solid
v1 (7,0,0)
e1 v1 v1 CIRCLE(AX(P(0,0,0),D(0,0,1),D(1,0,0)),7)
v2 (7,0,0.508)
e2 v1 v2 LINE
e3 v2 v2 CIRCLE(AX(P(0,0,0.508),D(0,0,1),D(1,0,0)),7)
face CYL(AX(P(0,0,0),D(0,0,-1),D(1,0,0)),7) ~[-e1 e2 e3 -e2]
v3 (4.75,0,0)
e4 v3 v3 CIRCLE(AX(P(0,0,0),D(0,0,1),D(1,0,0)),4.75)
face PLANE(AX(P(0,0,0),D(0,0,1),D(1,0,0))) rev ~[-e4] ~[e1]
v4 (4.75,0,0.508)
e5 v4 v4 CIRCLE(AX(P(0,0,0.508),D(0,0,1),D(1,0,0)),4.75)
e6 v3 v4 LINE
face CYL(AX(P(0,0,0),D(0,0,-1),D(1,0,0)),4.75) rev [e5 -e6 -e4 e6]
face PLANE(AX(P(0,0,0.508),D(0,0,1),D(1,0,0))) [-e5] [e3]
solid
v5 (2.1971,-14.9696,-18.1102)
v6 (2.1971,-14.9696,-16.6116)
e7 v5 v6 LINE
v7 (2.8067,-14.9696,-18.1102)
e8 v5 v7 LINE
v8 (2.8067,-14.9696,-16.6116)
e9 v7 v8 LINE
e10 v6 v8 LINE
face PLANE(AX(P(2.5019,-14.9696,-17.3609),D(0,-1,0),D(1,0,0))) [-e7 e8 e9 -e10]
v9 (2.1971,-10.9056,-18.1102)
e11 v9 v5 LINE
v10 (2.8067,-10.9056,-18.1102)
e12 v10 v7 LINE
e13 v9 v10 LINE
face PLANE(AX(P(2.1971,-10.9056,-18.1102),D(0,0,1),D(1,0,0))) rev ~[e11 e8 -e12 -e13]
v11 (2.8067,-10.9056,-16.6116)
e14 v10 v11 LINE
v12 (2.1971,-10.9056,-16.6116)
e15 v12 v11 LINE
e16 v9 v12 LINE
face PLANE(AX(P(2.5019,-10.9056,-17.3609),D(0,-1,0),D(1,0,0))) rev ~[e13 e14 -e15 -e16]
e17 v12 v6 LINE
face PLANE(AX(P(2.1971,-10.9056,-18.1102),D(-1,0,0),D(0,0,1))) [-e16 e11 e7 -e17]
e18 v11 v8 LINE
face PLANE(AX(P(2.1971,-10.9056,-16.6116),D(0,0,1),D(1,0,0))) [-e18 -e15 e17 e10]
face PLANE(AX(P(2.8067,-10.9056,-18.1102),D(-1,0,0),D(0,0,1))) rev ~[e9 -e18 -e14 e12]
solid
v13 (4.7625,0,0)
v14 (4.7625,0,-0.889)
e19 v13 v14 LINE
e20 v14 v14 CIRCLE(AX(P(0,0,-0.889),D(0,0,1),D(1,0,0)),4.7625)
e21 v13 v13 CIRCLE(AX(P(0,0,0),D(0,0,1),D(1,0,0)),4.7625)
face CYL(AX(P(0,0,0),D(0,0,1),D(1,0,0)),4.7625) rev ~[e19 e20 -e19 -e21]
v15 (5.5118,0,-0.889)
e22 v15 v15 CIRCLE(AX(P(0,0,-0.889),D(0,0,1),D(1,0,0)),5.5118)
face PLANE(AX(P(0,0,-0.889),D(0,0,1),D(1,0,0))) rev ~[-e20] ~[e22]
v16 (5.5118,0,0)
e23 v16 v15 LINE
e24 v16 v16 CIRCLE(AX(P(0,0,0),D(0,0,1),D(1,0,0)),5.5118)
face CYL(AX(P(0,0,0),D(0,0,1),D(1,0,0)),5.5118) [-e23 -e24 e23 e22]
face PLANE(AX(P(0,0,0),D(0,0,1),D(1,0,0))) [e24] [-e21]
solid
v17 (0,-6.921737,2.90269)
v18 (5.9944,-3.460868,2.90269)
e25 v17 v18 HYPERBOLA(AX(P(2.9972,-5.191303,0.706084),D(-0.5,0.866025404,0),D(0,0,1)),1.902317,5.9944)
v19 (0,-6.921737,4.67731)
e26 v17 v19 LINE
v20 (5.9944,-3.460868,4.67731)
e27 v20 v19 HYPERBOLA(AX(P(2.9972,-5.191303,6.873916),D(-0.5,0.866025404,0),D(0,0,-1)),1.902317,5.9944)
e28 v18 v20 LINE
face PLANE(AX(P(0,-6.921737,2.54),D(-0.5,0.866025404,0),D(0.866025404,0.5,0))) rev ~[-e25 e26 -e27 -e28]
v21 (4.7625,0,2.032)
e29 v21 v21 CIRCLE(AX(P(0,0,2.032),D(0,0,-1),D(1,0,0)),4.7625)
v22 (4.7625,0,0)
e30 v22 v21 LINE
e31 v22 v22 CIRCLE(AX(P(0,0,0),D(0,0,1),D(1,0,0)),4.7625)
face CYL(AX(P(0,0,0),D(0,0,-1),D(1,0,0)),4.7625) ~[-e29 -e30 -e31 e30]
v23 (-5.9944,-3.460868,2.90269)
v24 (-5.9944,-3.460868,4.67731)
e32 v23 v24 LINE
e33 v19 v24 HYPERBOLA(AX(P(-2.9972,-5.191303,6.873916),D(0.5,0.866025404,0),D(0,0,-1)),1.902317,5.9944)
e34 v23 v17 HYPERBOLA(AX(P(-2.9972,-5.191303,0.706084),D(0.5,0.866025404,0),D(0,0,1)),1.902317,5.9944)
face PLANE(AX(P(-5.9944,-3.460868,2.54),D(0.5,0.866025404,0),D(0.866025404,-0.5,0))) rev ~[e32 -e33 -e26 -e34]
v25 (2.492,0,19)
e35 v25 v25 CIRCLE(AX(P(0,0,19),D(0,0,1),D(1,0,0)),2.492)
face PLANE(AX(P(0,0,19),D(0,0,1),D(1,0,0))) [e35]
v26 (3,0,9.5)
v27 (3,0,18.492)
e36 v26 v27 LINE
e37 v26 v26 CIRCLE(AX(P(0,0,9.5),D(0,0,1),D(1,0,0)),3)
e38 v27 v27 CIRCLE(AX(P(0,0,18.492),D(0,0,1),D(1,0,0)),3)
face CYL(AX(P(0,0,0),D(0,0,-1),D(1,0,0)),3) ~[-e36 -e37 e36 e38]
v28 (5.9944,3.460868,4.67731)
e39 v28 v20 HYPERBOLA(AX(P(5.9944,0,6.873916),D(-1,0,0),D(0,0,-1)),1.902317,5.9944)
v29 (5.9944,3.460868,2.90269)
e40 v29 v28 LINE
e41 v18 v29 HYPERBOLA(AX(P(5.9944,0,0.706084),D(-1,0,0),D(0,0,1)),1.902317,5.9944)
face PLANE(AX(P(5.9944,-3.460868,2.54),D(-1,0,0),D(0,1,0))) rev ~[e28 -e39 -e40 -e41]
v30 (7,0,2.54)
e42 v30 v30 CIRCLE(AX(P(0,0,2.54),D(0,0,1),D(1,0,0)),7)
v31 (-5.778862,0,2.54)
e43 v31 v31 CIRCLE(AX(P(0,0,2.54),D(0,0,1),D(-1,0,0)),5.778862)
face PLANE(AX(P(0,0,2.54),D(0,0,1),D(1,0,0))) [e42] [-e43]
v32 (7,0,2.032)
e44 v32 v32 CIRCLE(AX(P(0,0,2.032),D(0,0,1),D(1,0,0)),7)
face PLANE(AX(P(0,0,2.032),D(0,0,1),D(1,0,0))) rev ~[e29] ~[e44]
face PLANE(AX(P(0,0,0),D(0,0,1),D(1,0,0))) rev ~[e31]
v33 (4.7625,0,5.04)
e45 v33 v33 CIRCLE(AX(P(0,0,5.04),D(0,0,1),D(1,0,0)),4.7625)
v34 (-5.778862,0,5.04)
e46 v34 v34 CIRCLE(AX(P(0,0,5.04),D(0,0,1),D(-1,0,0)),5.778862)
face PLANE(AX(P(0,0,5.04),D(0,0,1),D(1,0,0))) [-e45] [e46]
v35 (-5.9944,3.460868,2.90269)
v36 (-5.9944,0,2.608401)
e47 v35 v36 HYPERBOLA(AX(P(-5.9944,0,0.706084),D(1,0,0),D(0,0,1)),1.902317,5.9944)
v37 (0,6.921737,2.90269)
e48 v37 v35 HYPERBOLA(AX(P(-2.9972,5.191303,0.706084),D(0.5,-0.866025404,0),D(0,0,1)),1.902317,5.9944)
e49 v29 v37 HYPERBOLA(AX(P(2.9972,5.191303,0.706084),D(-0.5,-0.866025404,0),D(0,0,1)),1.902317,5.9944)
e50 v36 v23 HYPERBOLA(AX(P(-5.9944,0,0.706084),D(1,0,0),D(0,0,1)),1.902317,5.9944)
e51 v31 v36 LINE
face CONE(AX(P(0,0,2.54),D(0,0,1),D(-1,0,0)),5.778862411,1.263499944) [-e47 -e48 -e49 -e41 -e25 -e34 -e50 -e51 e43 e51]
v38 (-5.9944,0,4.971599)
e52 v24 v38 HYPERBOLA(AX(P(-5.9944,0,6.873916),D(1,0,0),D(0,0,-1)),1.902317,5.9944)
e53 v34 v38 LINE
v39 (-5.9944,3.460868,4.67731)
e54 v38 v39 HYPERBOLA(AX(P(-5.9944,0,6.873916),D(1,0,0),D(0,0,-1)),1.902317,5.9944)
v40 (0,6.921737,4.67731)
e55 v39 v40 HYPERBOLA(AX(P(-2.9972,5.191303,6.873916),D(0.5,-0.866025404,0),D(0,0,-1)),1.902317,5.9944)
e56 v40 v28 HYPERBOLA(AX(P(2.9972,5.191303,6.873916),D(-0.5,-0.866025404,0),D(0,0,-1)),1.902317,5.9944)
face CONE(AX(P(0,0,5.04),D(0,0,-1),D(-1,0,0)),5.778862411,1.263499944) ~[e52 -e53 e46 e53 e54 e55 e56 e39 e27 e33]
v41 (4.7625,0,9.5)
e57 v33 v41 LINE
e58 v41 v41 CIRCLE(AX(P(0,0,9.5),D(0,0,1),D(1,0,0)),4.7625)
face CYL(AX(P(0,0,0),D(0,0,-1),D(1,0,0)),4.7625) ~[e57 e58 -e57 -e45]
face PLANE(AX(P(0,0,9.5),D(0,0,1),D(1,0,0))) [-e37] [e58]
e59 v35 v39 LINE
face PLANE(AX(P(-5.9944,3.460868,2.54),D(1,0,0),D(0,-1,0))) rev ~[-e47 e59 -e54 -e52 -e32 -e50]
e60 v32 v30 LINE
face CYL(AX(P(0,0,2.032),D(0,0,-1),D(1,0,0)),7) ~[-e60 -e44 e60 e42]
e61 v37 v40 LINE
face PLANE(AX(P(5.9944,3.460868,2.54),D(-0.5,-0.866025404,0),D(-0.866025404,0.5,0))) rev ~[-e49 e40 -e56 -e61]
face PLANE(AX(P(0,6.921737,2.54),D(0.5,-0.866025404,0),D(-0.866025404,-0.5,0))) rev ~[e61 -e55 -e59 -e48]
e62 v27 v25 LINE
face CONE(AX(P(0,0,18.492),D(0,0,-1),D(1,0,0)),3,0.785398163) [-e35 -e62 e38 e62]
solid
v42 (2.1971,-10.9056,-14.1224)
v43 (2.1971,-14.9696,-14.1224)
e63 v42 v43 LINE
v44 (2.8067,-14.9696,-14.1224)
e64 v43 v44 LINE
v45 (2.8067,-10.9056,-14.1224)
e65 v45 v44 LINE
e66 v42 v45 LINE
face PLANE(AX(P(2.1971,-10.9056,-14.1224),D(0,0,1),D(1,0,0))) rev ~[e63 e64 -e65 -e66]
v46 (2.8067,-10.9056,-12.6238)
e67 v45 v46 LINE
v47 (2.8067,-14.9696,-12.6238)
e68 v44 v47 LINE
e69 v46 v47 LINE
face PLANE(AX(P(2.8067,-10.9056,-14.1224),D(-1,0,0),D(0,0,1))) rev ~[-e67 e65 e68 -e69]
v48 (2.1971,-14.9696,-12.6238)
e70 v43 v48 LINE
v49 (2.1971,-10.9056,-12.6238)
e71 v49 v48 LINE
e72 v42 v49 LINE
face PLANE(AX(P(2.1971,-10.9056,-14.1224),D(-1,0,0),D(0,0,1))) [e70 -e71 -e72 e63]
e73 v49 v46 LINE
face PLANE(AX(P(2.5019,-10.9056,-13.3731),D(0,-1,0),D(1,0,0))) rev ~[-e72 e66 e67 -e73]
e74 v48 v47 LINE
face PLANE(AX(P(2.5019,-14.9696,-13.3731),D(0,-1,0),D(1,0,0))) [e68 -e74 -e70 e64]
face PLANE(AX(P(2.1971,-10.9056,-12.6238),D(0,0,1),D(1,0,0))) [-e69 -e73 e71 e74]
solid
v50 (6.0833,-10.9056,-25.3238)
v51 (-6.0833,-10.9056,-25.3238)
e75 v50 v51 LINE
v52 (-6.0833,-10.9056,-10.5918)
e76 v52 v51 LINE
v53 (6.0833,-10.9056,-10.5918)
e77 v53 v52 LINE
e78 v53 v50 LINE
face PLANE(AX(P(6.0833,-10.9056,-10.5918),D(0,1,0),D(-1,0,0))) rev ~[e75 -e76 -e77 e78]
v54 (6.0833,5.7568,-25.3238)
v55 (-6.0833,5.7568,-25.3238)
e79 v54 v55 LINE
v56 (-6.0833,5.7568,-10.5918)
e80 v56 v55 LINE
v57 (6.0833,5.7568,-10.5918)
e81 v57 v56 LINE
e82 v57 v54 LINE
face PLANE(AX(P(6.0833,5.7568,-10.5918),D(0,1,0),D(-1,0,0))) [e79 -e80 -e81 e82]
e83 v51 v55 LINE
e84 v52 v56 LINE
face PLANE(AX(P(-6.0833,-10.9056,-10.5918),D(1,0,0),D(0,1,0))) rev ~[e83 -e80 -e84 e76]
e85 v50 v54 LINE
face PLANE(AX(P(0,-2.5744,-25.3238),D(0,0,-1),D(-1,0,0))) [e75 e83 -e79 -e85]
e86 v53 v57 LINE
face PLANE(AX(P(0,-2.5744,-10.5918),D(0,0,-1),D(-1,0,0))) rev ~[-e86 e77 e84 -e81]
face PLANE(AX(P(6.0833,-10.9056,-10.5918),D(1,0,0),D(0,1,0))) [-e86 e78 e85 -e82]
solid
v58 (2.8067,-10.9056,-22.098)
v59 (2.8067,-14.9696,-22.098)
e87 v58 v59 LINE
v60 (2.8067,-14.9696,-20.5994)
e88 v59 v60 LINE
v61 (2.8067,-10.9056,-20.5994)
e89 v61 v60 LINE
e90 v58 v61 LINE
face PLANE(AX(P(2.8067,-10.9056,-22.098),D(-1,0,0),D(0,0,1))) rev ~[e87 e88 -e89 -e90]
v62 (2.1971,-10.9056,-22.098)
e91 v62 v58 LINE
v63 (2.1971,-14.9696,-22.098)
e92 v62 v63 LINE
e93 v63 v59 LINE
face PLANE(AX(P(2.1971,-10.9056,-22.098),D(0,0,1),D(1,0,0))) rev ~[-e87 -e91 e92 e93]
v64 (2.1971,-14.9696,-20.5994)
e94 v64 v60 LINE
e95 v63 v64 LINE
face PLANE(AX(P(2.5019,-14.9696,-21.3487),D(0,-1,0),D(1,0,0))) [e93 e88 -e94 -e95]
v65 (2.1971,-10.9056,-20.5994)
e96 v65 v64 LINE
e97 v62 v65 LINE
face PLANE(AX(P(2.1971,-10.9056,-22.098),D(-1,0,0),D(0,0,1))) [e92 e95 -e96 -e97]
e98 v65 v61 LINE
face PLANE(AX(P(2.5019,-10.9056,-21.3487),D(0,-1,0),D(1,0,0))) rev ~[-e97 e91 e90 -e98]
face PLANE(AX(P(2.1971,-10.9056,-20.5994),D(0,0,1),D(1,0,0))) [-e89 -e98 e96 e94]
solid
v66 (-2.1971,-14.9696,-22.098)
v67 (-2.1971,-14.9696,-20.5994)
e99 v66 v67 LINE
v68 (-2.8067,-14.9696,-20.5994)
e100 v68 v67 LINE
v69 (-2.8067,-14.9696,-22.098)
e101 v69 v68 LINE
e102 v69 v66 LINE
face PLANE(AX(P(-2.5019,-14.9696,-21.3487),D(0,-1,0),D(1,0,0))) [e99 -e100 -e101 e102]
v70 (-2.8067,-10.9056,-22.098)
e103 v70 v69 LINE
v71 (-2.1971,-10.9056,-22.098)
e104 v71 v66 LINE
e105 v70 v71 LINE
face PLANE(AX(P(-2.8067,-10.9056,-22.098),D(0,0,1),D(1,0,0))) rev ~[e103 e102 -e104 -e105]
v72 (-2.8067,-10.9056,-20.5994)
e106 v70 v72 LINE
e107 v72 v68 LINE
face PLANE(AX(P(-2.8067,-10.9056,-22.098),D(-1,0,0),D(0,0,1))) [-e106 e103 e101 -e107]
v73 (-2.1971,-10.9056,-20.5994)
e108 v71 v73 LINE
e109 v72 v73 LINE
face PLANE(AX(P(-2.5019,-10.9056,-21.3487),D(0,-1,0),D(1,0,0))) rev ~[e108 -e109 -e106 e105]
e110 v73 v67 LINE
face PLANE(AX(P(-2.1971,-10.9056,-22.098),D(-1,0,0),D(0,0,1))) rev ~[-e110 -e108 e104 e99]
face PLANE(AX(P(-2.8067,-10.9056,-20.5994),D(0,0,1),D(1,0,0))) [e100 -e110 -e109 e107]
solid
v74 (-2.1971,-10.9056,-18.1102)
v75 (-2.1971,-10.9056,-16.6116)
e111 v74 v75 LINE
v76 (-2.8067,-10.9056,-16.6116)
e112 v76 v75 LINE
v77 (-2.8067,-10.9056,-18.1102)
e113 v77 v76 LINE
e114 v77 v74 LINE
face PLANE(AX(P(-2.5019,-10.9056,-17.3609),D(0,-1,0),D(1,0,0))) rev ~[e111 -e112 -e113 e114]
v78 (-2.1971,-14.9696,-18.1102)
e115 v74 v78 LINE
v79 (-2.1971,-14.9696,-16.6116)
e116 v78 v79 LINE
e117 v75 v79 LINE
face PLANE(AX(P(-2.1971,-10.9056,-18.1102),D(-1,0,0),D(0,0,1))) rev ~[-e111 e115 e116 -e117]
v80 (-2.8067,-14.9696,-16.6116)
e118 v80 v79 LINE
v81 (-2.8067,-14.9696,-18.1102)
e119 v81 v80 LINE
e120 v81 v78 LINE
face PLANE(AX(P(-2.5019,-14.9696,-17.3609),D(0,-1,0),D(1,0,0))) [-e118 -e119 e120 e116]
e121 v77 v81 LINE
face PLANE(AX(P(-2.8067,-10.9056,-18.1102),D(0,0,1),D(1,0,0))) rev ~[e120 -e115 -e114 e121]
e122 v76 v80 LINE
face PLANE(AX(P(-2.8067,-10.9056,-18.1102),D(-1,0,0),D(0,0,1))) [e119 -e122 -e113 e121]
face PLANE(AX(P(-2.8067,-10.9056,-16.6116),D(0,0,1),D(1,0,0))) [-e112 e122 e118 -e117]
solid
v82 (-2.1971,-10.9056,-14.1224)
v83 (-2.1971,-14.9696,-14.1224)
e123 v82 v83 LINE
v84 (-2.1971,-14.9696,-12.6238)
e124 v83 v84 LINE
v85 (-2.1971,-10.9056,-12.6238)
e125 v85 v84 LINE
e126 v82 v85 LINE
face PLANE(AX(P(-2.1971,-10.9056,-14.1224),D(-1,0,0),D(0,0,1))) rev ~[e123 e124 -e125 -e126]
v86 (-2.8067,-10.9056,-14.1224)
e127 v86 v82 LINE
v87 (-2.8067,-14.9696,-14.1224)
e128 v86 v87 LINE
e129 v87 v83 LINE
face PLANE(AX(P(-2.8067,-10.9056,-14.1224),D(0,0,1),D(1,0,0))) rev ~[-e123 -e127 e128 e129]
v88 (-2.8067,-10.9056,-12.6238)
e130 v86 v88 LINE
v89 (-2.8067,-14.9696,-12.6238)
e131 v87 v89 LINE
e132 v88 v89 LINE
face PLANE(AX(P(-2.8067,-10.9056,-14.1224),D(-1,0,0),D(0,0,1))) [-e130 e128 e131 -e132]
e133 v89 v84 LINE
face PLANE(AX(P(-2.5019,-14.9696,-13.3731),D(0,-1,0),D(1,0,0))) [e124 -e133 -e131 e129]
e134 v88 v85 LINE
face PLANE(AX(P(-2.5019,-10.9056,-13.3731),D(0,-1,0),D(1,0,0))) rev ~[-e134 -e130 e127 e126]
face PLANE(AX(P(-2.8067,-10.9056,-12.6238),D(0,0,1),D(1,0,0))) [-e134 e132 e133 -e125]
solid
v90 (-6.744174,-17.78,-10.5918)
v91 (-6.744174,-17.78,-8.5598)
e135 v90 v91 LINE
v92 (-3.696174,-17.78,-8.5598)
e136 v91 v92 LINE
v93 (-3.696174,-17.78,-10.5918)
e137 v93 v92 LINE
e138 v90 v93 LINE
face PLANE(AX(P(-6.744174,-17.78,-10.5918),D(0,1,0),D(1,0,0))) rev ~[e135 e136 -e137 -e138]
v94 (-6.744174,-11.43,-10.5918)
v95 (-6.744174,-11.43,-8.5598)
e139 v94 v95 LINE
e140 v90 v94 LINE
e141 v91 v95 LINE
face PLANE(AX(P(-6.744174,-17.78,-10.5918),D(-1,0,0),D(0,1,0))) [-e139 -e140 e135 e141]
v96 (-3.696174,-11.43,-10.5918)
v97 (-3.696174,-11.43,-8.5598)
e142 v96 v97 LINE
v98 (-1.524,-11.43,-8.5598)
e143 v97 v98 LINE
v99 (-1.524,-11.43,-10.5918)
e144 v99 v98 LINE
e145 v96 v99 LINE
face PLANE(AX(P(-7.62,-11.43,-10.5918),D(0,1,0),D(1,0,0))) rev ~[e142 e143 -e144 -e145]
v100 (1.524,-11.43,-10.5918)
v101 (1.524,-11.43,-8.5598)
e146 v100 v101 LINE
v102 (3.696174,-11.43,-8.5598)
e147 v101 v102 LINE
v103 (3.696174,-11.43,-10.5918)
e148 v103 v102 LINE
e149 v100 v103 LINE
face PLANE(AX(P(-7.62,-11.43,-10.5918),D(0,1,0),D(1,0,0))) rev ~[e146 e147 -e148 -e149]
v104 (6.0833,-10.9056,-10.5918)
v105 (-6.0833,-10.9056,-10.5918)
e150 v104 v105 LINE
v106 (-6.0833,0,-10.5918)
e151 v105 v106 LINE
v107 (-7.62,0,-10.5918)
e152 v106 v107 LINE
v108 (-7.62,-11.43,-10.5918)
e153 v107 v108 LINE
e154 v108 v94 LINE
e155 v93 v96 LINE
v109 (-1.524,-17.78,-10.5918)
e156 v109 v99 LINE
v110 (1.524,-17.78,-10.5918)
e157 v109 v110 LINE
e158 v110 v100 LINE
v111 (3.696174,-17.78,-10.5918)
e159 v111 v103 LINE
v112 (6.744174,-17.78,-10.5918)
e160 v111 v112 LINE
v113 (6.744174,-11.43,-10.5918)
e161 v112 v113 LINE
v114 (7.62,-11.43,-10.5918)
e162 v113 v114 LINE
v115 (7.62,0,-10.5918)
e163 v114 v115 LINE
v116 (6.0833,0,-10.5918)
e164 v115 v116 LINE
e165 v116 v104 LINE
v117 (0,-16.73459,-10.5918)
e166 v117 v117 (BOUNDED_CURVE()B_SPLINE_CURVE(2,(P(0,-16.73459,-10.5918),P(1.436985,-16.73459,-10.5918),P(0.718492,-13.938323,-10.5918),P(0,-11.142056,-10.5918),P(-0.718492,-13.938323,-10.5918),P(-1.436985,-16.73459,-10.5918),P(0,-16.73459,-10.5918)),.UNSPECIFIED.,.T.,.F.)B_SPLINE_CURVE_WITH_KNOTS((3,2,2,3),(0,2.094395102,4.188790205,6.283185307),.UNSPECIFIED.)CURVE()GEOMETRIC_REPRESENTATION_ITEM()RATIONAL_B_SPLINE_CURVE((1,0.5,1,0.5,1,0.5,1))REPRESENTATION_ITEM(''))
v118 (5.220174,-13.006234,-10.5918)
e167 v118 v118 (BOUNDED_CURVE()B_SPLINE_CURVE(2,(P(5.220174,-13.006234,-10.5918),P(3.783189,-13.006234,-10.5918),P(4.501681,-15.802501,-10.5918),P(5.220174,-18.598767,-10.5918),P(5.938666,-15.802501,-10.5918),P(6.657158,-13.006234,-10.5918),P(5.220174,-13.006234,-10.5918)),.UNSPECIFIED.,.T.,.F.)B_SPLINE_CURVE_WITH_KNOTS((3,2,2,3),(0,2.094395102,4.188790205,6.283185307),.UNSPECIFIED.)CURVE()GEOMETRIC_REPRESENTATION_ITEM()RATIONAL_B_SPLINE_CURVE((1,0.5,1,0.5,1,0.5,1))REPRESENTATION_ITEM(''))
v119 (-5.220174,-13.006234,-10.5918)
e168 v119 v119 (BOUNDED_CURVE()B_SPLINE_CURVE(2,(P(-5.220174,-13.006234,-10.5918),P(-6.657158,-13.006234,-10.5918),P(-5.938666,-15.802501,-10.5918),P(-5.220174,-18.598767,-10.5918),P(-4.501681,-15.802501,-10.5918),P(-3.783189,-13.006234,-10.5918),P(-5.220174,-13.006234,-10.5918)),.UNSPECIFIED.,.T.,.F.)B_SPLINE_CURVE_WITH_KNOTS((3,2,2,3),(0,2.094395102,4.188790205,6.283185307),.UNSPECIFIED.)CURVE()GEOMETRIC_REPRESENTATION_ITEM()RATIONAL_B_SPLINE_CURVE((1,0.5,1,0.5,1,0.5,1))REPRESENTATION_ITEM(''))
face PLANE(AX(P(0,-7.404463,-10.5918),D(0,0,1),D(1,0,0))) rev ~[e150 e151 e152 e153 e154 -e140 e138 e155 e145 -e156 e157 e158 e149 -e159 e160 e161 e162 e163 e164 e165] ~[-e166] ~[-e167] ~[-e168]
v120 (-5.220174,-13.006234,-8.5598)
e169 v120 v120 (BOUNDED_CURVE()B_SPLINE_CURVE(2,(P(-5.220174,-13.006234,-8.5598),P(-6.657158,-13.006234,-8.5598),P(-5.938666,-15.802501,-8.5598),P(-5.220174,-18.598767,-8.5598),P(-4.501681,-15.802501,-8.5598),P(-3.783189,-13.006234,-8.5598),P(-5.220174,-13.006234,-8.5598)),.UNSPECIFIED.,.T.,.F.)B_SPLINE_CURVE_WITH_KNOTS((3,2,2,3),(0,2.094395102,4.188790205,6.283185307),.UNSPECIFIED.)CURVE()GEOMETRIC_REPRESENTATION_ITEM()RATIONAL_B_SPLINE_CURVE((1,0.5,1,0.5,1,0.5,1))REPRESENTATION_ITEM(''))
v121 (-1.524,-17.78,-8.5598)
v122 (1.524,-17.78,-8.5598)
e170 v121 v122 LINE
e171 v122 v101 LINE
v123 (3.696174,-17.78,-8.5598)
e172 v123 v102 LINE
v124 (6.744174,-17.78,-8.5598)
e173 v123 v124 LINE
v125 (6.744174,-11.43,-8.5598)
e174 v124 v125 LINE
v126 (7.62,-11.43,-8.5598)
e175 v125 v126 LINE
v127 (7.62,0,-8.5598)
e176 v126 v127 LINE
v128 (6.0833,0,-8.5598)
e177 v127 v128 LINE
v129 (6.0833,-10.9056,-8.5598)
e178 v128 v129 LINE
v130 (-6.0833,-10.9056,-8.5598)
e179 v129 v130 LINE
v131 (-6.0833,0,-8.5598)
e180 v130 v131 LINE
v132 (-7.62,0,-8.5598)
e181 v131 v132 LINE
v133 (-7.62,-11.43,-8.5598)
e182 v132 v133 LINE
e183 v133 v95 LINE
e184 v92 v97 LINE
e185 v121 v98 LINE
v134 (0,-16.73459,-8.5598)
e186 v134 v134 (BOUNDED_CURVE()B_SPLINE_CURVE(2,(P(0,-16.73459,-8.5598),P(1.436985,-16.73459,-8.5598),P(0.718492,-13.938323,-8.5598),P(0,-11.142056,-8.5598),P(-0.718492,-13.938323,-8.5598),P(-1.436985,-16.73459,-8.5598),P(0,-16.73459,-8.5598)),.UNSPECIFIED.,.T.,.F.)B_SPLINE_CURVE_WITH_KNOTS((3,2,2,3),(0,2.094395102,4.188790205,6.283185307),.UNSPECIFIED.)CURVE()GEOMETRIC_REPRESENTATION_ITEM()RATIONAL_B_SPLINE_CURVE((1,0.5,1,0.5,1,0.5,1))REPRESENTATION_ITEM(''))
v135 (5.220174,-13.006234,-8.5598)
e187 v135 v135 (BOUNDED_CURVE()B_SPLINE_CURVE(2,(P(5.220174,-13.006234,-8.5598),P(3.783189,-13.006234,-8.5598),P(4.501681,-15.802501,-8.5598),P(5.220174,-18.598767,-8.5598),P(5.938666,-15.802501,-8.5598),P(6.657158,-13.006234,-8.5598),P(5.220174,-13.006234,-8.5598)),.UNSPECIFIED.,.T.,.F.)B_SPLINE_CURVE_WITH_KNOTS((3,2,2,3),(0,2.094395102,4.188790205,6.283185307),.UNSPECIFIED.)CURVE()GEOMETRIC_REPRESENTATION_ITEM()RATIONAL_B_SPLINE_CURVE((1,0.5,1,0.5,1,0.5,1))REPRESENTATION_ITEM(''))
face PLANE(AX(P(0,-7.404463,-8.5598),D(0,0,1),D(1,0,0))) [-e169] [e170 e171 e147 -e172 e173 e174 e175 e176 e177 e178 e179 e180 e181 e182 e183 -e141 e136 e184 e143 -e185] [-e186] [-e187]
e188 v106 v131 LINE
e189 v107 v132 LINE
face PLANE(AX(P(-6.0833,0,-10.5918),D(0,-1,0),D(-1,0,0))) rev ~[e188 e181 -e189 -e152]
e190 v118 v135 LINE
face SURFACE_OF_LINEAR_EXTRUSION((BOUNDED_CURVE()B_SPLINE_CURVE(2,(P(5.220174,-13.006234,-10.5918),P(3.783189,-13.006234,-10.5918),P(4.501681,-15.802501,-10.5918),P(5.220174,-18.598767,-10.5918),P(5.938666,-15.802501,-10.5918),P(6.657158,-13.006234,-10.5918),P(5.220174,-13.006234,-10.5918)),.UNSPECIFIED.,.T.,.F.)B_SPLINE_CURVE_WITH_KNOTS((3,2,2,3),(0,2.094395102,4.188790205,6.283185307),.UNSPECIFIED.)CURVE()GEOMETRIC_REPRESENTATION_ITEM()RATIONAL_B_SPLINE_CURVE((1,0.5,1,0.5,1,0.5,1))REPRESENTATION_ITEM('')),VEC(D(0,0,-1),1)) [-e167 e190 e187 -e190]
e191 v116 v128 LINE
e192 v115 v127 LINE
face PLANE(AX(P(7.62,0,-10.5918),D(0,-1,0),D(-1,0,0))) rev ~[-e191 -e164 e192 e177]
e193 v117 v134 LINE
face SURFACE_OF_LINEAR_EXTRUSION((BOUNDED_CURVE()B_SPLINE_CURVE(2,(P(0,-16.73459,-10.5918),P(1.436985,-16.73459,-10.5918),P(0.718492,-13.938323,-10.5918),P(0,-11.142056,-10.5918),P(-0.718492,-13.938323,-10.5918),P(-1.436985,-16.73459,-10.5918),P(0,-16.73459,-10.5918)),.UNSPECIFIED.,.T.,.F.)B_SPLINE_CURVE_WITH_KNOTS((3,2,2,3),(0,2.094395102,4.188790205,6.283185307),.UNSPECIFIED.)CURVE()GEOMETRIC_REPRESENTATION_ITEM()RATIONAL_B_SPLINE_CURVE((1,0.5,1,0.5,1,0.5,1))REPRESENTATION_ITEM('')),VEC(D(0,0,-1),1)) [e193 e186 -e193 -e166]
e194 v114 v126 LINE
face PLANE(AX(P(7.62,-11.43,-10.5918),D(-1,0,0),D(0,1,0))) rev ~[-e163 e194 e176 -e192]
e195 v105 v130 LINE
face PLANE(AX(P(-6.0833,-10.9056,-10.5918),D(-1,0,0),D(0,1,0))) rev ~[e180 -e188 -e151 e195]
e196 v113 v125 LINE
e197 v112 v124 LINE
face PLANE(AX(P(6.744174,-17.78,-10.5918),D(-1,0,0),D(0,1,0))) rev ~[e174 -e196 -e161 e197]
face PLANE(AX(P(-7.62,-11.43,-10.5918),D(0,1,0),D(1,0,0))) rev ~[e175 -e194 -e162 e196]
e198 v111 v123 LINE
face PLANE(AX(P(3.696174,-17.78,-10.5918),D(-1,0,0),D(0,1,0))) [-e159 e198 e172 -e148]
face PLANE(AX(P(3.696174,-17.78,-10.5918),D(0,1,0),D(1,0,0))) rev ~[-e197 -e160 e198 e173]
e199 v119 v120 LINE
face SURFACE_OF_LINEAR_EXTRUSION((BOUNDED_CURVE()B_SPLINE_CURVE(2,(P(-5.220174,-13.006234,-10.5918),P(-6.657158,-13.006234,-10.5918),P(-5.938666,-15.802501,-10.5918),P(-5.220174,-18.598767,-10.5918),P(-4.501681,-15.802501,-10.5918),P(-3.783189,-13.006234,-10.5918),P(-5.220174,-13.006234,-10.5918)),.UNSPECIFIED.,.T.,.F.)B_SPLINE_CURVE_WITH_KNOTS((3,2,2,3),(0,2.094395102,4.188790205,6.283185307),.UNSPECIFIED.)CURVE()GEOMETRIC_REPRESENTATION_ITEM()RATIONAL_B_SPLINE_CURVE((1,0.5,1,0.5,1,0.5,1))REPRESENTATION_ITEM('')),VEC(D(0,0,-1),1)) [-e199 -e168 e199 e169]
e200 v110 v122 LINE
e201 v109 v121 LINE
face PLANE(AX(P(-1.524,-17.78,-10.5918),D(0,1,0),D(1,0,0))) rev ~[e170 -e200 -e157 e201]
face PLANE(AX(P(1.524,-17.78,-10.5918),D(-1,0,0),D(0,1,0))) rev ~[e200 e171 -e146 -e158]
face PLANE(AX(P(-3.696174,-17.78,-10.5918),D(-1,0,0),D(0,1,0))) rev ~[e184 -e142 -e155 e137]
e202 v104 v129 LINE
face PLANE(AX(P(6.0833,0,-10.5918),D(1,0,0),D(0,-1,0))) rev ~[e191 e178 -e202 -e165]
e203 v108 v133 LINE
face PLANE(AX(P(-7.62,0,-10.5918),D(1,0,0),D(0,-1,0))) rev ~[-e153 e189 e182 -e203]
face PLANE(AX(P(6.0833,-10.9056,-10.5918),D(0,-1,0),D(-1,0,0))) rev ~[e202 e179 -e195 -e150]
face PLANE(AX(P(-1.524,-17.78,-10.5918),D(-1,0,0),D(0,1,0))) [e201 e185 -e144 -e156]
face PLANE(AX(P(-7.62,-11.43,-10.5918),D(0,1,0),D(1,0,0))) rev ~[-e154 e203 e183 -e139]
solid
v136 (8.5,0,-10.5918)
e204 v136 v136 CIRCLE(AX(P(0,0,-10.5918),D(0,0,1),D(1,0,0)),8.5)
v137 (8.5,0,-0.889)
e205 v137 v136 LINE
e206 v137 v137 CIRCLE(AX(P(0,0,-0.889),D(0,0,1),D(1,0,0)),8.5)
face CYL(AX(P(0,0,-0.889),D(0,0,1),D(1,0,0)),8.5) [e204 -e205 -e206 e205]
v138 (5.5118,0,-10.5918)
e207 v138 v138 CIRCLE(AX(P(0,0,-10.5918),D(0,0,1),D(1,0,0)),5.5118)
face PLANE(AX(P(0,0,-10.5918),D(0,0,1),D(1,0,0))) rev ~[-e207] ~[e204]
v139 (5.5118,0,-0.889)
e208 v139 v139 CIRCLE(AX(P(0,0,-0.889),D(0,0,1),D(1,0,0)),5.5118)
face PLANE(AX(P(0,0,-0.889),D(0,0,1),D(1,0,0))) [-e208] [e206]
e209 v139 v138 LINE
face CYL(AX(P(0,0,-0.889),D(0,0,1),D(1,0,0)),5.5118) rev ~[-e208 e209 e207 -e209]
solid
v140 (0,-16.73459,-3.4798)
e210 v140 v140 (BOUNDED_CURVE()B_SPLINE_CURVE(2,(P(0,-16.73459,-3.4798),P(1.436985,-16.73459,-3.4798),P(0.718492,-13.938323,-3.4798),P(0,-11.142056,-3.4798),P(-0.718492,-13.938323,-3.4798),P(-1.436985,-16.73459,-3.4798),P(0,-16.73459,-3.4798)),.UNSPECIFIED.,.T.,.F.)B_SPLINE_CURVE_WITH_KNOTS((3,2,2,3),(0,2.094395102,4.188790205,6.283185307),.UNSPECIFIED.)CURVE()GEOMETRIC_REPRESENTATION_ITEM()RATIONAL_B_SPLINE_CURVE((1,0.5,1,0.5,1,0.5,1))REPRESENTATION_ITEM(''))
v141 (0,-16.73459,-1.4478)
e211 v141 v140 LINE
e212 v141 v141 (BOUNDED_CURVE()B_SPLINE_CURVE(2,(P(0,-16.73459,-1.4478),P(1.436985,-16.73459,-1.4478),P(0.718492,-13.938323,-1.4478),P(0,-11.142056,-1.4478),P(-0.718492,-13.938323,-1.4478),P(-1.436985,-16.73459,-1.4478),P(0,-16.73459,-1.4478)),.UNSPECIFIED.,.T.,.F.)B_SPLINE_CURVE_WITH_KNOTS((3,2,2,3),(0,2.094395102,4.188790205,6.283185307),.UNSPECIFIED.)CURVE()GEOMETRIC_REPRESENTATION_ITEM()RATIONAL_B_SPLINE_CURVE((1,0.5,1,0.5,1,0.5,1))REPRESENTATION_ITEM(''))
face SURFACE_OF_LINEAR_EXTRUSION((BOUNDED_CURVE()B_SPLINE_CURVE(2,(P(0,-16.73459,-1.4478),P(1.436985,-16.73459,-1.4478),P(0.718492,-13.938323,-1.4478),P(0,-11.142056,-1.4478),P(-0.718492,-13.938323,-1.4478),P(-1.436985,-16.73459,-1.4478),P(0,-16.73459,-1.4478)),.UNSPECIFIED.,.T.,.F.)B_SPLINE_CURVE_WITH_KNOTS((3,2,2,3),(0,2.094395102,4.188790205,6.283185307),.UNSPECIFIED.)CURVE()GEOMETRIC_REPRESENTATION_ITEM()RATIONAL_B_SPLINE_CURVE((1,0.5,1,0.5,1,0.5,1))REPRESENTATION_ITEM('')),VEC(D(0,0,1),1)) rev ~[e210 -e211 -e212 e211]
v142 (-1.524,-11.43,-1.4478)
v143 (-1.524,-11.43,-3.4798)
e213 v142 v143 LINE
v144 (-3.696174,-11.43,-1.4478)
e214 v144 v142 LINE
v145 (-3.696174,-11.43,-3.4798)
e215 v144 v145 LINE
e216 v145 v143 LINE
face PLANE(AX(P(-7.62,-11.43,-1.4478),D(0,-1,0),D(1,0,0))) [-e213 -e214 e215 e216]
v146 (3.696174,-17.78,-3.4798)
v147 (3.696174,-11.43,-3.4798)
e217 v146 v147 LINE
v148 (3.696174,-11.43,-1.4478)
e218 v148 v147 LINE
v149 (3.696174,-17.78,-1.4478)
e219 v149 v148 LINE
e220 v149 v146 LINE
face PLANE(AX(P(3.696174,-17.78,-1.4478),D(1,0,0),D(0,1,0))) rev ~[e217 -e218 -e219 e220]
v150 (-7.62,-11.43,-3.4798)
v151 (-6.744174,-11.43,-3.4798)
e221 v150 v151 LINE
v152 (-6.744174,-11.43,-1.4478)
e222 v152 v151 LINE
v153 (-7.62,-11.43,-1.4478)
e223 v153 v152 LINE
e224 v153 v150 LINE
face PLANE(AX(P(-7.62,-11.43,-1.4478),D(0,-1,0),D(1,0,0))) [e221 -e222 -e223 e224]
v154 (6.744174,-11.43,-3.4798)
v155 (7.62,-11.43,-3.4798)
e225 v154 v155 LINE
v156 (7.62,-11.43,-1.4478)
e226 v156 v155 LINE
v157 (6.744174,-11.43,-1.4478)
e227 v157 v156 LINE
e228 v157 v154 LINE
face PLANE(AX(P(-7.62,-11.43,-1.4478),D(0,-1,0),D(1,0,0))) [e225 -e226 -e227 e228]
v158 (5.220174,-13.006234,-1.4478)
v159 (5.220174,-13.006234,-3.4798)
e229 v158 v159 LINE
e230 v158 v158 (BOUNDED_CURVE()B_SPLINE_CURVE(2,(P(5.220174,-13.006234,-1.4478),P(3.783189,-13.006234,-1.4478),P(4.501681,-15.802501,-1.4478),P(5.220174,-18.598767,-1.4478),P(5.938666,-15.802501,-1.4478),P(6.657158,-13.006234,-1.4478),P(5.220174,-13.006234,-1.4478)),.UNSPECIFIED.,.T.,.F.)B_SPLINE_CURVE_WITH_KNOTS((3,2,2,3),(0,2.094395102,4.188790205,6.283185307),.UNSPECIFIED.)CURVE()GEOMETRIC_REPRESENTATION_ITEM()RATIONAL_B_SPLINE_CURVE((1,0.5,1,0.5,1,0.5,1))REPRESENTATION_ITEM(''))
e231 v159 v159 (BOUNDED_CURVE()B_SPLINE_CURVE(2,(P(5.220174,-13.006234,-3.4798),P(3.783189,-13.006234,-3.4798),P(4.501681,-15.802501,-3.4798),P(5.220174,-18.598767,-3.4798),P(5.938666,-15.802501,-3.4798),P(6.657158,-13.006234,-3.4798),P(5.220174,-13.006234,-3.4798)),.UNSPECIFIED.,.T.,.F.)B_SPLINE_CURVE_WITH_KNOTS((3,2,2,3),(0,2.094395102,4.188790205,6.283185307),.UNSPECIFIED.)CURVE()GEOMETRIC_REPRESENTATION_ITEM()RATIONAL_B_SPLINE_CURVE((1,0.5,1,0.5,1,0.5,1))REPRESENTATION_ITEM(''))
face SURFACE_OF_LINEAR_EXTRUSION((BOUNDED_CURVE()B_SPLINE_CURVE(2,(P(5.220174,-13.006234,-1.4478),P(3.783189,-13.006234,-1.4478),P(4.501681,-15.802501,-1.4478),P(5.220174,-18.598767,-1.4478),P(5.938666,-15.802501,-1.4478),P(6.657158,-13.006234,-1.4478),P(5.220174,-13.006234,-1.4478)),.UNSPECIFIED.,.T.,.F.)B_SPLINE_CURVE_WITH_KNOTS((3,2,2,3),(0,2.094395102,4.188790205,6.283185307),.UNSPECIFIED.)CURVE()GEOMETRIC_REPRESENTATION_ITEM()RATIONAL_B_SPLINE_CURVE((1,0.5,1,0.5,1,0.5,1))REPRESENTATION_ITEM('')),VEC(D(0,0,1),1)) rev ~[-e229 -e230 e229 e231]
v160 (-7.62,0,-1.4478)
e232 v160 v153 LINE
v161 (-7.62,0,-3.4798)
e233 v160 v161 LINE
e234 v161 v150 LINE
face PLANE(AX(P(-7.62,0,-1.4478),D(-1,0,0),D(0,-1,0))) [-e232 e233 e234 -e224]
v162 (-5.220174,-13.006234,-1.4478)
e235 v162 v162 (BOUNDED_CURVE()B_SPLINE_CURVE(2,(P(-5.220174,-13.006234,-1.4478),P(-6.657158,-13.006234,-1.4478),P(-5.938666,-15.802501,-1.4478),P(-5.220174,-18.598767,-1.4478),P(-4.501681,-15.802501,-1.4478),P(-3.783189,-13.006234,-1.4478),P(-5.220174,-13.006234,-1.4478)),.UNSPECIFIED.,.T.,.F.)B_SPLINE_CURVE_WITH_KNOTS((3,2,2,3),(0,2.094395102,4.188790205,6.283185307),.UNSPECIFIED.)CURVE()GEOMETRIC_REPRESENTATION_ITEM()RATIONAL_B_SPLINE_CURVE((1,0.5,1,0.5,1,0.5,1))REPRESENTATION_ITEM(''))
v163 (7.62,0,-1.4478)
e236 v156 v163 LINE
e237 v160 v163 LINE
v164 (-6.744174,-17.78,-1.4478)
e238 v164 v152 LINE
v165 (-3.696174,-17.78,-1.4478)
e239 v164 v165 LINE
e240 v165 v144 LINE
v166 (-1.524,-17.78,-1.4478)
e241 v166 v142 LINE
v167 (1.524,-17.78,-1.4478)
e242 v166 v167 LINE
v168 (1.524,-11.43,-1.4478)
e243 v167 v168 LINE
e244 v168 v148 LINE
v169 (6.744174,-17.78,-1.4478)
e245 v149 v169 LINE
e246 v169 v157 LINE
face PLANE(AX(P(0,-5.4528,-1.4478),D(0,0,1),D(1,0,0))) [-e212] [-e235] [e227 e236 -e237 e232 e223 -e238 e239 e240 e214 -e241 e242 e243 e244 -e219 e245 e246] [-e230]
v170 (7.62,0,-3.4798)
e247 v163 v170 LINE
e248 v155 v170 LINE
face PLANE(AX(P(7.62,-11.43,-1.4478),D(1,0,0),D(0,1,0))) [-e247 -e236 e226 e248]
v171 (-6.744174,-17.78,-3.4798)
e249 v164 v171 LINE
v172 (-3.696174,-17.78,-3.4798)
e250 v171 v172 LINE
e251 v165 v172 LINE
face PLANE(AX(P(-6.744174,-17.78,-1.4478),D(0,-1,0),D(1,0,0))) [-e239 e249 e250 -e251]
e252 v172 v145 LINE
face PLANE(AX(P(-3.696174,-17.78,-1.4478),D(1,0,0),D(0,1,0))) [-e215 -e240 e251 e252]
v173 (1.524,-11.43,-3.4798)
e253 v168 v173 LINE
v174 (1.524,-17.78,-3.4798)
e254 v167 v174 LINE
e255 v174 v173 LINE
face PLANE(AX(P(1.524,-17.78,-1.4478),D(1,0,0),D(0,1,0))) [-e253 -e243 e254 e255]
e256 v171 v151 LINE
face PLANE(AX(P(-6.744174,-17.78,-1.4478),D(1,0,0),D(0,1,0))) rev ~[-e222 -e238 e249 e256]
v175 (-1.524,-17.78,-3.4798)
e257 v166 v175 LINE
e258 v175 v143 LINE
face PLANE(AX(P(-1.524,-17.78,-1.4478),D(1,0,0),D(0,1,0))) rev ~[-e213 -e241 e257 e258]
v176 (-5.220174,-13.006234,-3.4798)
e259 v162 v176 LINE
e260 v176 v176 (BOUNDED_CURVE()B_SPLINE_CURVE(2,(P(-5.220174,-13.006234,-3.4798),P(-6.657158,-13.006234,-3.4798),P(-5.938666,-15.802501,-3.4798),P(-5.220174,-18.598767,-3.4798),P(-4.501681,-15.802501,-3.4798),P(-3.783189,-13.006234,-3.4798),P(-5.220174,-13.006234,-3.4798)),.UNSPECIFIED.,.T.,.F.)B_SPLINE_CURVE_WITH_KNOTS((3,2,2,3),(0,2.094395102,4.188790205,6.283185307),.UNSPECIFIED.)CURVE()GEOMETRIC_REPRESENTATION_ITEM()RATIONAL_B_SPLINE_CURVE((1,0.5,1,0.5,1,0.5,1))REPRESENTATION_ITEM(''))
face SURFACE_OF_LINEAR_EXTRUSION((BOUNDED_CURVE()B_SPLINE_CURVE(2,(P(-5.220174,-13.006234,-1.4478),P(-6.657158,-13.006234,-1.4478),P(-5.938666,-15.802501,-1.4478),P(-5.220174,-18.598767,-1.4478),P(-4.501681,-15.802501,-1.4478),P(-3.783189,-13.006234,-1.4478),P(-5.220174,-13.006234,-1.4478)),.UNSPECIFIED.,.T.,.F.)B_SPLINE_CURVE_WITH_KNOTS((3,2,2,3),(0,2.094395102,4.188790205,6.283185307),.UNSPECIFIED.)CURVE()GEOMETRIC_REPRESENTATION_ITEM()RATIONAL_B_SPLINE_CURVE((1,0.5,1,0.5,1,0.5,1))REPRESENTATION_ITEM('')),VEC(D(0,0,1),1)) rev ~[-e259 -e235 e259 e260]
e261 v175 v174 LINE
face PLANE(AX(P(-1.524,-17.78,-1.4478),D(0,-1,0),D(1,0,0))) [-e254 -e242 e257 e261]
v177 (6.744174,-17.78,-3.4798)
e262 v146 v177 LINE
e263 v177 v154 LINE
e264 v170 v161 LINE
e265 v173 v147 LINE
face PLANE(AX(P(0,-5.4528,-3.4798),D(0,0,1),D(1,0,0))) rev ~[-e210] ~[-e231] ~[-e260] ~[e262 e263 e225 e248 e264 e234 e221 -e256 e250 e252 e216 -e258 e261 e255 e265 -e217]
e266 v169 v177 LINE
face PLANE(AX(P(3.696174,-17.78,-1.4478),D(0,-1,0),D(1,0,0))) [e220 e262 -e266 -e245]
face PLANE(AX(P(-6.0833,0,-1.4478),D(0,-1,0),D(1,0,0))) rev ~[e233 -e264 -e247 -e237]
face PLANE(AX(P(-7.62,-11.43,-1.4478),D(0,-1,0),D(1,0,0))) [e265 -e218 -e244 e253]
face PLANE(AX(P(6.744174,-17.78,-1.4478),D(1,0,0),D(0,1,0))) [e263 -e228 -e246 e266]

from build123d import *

# Parameters (mm, degrees)
SKETCH1_R              = 3
BOSS_EXTRUDE1_DEPTH    = 19
SKETCH1_3_R            = 4.7625
SKETCH1_3_R_2          = 3
BOSS_EXTRUDE2_DEPTH    = 9.5
SKETCH1_5_R            = 5.5118
SKETCH1_5_R_2          = 4.7625
BOSS_EXTRUDE3_DEPTH    = 0.889
BOSS_EXTRUDE4_START    = -0.889
SKETCH1_6_R            = 8.5
SKETCH1_6_R_2          = 5.5118
BOSS_EXTRUDE4_DEPTH    = 9.7028
SKETCH2_W              = 12.1666
SKETCH2_H              = 16.6624
BOSS_EXTRUDE5_DEPTH    = 14.732
SKETCH3_W              = 3.048
SKETCH3_H              = 6.35
BOSS_EXTRUDE6_DEPTH    = 2.032
BOSS_EXTRUDE9_START    = 9.144
SKETCH3_3_W            = 3.048
SKETCH3_3_H            = 6.35
SKETCH3_3_W_2          = 12.1666
SKETCH3_3_H_2          = 10.9056
BOSS_EXTRUDE9_DEPTH    = 2.032
SKETCH4_W              = 0.6096
SKETCH4_H              = 1.4986
BOSS_EXTRUDE10_DEPTH   = 4.064
BOSS_EXTRUDE10_2_DEPTH = 4.064
BOSS_EXTRUDE10_3_DEPTH = 4.064
BOSS_EXTRUDE10_4_DEPTH = 4.064
BOSS_EXTRUDE10_5_DEPTH = 4.064
BOSS_EXTRUDE10_6_DEPTH = 4.064
CHAMFER1_SIZE          = 0.508
SKETCH6_R              = 7
SKETCH6_R_2            = 4.75
BOSS_EXTRUDE11_DEPTH   = 0.508
SKETCH8_R              = 4.7625
BOSS_EXTRUDE12_DEPTH   = 2.5
BOSS_EXTRUDE15_START   = -2.032
SKETCH6_2_R            = 7
SKETCH6_2_R_2          = 4.75
BOSS_EXTRUDE15_DEPTH   = 0.508


with BuildPart() as part:
    # Sketch1 → Boss-Extrude1 (new body)
    with BuildSketch(Plane.XY):
        Circle(SKETCH1_R)
    extrude(amount=BOSS_EXTRUDE1_DEPTH)



with BuildPart() as body_2:
    # Sketch1<3> → Boss-Extrude2 (new body)
    with BuildSketch(Plane.XY):
        Circle(SKETCH1_3_R)
        Circle(SKETCH1_3_R_2, mode=Mode.SUBTRACT)
    extrude(amount=BOSS_EXTRUDE2_DEPTH)


with BuildPart() as part_1:
    add(part.part)

    add(body_2.part)  # Boss-Extrude3 merges body 2
    # Sketch1<5> → Boss-Extrude3 (add)
    with BuildSketch(Plane.XY):
        Circle(SKETCH1_5_R)
        Circle(SKETCH1_5_R_2, mode=Mode.SUBTRACT)
    extrude(amount=-BOSS_EXTRUDE3_DEPTH)

    # Chamfer1
    chamfer1_edges = [part_1.edges().sort_by_distance(p)[0] for p in [
        (-3, 0, 19),
    ]]
    chamfer(chamfer1_edges, length=CHAMFER1_SIZE)



with BuildPart() as body_2_2:
    # Sketch1<6> → Boss-Extrude4 (new body)
    with BuildSketch(Plane.XY.offset(BOSS_EXTRUDE4_START)):
        Circle(SKETCH1_6_R)
        Circle(SKETCH1_6_R_2, mode=Mode.SUBTRACT)
    extrude(amount=-BOSS_EXTRUDE4_DEPTH)


with BuildPart() as body_3:
    # Sketch2 → Boss-Extrude5 (new body)
    with BuildSketch(Plane(origin=(0, 0, -10.5918), x_dir=(-1, 0, 0), z_dir=(0, 0, -1))):
        with Locations((0, -2.5744)):
            Rectangle(SKETCH2_W, SKETCH2_H)
    extrude(amount=BOSS_EXTRUDE5_DEPTH)


with BuildPart() as body_4:
    # Sketch3 → Boss-Extrude6 (new body)
    # profile 1 of 4: a face of its own
    with BuildSketch(Plane.XY.offset(-10.5918)):
        Polygon((-6.0833, 0), (-7.62, 0), (-7.62, -11.43), (-6.744173621, -11.43), (-3.696173621, -11.43), (-1.524, -11.43), (1.524, -11.43), (3.696173621, -11.43), (6.744173621, -11.43), (7.62, -11.43), (7.62, 0), (6.0833, 0), (6.0833, -10.9056), (-6.0833, -10.9056), align=None)
    # profile 2 of 4: a face of its own
    with BuildSketch(Plane.XY.offset(-10.5918)):
        with Locations((5.220173621, -14.605)):
            Rectangle(SKETCH3_W, SKETCH3_H)
        with BuildLine():
            add(Edge.make_bspline(
                [(5.220173621, -13.006234108), (3.783189093, -13.006234108), (4.501681357, -15.802500684), (5.220173621, -18.598767261), (5.938665886, -15.802500684), (6.65715815, -13.006234108), (5.220173621, -13.006234108)],
                knots=[0, 0, 0, 2.094395102, 2.094395102, 4.188790205, 4.188790205, 6.283185307, 6.283185307, 6.283185307], degree=2, weights=[1, 0.5, 1, 0.5, 1, 0.5, 1]))
        make_face(mode=Mode.SUBTRACT)
    # profile 3 of 4: a face of its own
    with BuildSketch(Plane.XY.offset(-10.5918)):
        with Locations((0, -14.605)):
            Rectangle(SKETCH3_W, SKETCH3_H)
        with BuildLine():
            add(Edge.make_bspline(
                [(0, -16.734589543), (1.436984529, -16.734589543), (0.718492264, -13.938322967), (0, -11.14205639), (-0.718492264, -13.938322967), (-1.436984529, -16.734589543), (0, -16.734589543)],
                knots=[0, 0, 0, 2.094395102, 2.094395102, 4.188790205, 4.188790205, 6.283185307, 6.283185307, 6.283185307], degree=2, weights=[1, 0.5, 1, 0.5, 1, 0.5, 1]))
        make_face(mode=Mode.SUBTRACT)
    # profile 4 of 4: a face of its own
    with BuildSketch(Plane.XY.offset(-10.5918)):
        with Locations((-5.220173621, -14.605)):
            Rectangle(SKETCH3_W, SKETCH3_H)
        with BuildLine():
            add(Edge.make_bspline(
                [(-5.220173621, -13.006234108), (-6.65715815, -13.006234108), (-5.938665886, -15.802500684), (-5.220173621, -18.598767261), (-4.501681357, -15.802500684), (-3.783189093, -13.006234108), (-5.220173621, -13.006234108)],
                knots=[0, 0, 0, 2.094395102, 2.094395102, 4.188790205, 4.188790205, 6.283185307, 6.283185307, 6.283185307], degree=2, weights=[1, 0.5, 1, 0.5, 1, 0.5, 1]))
        make_face(mode=Mode.SUBTRACT)
    extrude(amount=BOSS_EXTRUDE6_DEPTH)


with BuildPart() as body_5:
    # Sketch3<3> → Boss-Extrude9 (new body)
    # profile 1 of 5: a face of its own
    with BuildSketch(Plane.XY.offset(-10.5918).offset(BOSS_EXTRUDE9_START)):
        with Locations((-5.220173621, -14.605)):
            Rectangle(SKETCH3_3_W, SKETCH3_3_H)
        with BuildLine():
            add(Edge.make_bspline(
                [(-5.220173621, -13.006234108), (-6.65715815, -13.006234108), (-5.938665886, -15.802500684), (-5.220173621, -18.598767261), (-4.501681357, -15.802500684), (-3.783189093, -13.006234108), (-5.220173621, -13.006234108)],
                knots=[0, 0, 0, 2.094395102, 2.094395102, 4.188790205, 4.188790205, 6.283185307, 6.283185307, 6.283185307], degree=2, weights=[1, 0.5, 1, 0.5, 1, 0.5, 1]))
        make_face(mode=Mode.SUBTRACT)
    # profile 2 of 5: a face of its own
    with BuildSketch(Plane.XY.offset(-10.5918).offset(BOSS_EXTRUDE9_START)):
        with Locations((0, -14.605)):
            Rectangle(SKETCH3_3_W, SKETCH3_3_H)
        with BuildLine():
            add(Edge.make_bspline(
                [(0, -16.734589543), (1.436984529, -16.734589543), (0.718492264, -13.938322967), (0, -11.14205639), (-0.718492264, -13.938322967), (-1.436984529, -16.734589543), (0, -16.734589543)],
                knots=[0, 0, 0, 2.094395102, 2.094395102, 4.188790205, 4.188790205, 6.283185307, 6.283185307, 6.283185307], degree=2, weights=[1, 0.5, 1, 0.5, 1, 0.5, 1]))
        make_face(mode=Mode.SUBTRACT)
    # profile 3 of 5: a face of its own
    with BuildSketch(Plane.XY.offset(-10.5918).offset(BOSS_EXTRUDE9_START)):
        with Locations((5.220173621, -14.605)):
            Rectangle(SKETCH3_3_W, SKETCH3_3_H)
        with BuildLine():
            add(Edge.make_bspline(
                [(5.220173621, -13.006234108), (3.783189093, -13.006234108), (4.501681357, -15.802500684), (5.220173621, -18.598767261), (5.938665886, -15.802500684), (6.65715815, -13.006234108), (5.220173621, -13.006234108)],
                knots=[0, 0, 0, 2.094395102, 2.094395102, 4.188790205, 4.188790205, 6.283185307, 6.283185307, 6.283185307], degree=2, weights=[1, 0.5, 1, 0.5, 1, 0.5, 1]))
        make_face(mode=Mode.SUBTRACT)
    # profile 4 of 5: a face of its own
    with BuildSketch(Plane.XY.offset(-10.5918).offset(BOSS_EXTRUDE9_START)):
        Polygon((-6.0833, 0), (-7.62, 0), (-7.62, -11.43), (-6.744173621, -11.43), (-3.696173621, -11.43), (-1.524, -11.43), (1.524, -11.43), (3.696173621, -11.43), (6.744173621, -11.43), (7.62, -11.43), (7.62, 0), (6.0833, 0), (6.0833, -10.9056), (-6.0833, -10.9056), align=None)
    # profile 5 of 5: a face of its own
    with BuildSketch(Plane.XY.offset(-10.5918).offset(BOSS_EXTRUDE9_START)):
        with Locations((0, -5.4528)):
            Rectangle(SKETCH3_3_W_2, SKETCH3_3_H_2)
    extrude(amount=-BOSS_EXTRUDE9_DEPTH)


with BuildPart() as body_6:
    # Sketch4 → Boss-Extrude10 (new body)
    with BuildSketch(Plane.XZ.offset(10.9056)):
        with Locations((-2.5019, -13.3731)):
            Rectangle(SKETCH4_W, SKETCH4_H)
    extrude(amount=BOSS_EXTRUDE10_DEPTH)


with BuildPart() as body_7:
    # Sketch4 → Boss-Extrude10 2 (new body)
    with BuildSketch(Plane.XZ.offset(10.9056)):
        with Locations((-2.5019, -17.3609)):
            Rectangle(SKETCH4_W, SKETCH4_H)
    extrude(amount=BOSS_EXTRUDE10_2_DEPTH)


with BuildPart() as body_8:
    # Sketch4 → Boss-Extrude10 3 (new body)
    with BuildSketch(Plane.XZ.offset(10.9056)):
        with Locations((-2.5019, -21.3487)):
            Rectangle(SKETCH4_W, SKETCH4_H)
    extrude(amount=BOSS_EXTRUDE10_3_DEPTH)


with BuildPart() as body_9:
    # Sketch4 → Boss-Extrude10 4 (new body)
    with BuildSketch(Plane.XZ.offset(10.9056)):
        with Locations((2.5019, -13.3731)):
            Rectangle(SKETCH4_W, SKETCH4_H)
    extrude(amount=BOSS_EXTRUDE10_4_DEPTH)


with BuildPart() as body_10:
    # Sketch4 → Boss-Extrude10 5 (new body)
    with BuildSketch(Plane.XZ.offset(10.9056)):
        with Locations((2.5019, -17.3609)):
            Rectangle(SKETCH4_W, SKETCH4_H)
    extrude(amount=BOSS_EXTRUDE10_5_DEPTH)


with BuildPart() as body_11:
    # Sketch4 → Boss-Extrude10 6 (new body)
    with BuildSketch(Plane.XZ.offset(10.9056)):
        with Locations((2.5019, -21.3487)):
            Rectangle(SKETCH4_W, SKETCH4_H)
    extrude(amount=BOSS_EXTRUDE10_6_DEPTH)


with BuildPart() as body_12:
    # Sketch6 → Boss-Extrude11 (new body)
    with BuildSketch(Plane.XY.offset(2.032)):
        Circle(SKETCH6_R)
        Circle(SKETCH6_R_2, mode=Mode.SUBTRACT)
    extrude(amount=BOSS_EXTRUDE11_DEPTH)


with BuildPart() as part_2:
    add(part_1.part)

    add(body_12.part)  # Boss-Extrude12 merges body 12
    # Sketch8 → Boss-Extrude12 (add)
    with BuildSketch(Plane.XY.offset(2.54)):
        Polygon((0, 6.921736907), (-5.9944, 3.460868454), (-5.9944, -3.460868454), (0, -6.921736907), (5.9944, -3.460868454), (5.9944, 3.460868454), align=None)
        Circle(SKETCH8_R, mode=Mode.SUBTRACT)
    extrude(amount=BOSS_EXTRUDE12_DEPTH)

    # Sketch9 → Cut-Revolve3 (revolve, cut)
    with BuildSketch(Plane(origin=(0, 0, 0), x_dir=(1, 0, 0), z_dir=(0, 1, 0)), mode=Mode.PRIVATE) as cut_revolve3_sk:
        Polygon((5.778862411, -5.04), (8.543901209, -4.162517583), (8.543901209, -5.04), align=None)
        Polygon((8.543901209, -2.54), (5.778862411, -2.54), (8.543901209, -3.417482417), align=None)
    revolve(cut_revolve3_sk.sketch.rotate(Axis((0, 0, 0), (0, 0, 1)), 180), axis=Axis((0, 0, 0), (0, 0, 1)), mode=Mode.SUBTRACT)


with BuildPart() as body_12_2:
    # Sketch6<2> → Boss-Extrude15 (new body)
    with BuildSketch(Plane.XY.offset(2.032).offset(BOSS_EXTRUDE15_START)):
        Circle(SKETCH6_2_R)
        Circle(SKETCH6_2_R_2, mode=Mode.SUBTRACT)
    extrude(amount=BOSS_EXTRUDE15_DEPTH)


solid = Compound([body_2_2.part, body_3.part, body_4.part, body_5.part, body_6.part, body_7.part, body_8.part, body_9.part, body_10.part, body_11.part, part_2.part, body_12_2.part])
